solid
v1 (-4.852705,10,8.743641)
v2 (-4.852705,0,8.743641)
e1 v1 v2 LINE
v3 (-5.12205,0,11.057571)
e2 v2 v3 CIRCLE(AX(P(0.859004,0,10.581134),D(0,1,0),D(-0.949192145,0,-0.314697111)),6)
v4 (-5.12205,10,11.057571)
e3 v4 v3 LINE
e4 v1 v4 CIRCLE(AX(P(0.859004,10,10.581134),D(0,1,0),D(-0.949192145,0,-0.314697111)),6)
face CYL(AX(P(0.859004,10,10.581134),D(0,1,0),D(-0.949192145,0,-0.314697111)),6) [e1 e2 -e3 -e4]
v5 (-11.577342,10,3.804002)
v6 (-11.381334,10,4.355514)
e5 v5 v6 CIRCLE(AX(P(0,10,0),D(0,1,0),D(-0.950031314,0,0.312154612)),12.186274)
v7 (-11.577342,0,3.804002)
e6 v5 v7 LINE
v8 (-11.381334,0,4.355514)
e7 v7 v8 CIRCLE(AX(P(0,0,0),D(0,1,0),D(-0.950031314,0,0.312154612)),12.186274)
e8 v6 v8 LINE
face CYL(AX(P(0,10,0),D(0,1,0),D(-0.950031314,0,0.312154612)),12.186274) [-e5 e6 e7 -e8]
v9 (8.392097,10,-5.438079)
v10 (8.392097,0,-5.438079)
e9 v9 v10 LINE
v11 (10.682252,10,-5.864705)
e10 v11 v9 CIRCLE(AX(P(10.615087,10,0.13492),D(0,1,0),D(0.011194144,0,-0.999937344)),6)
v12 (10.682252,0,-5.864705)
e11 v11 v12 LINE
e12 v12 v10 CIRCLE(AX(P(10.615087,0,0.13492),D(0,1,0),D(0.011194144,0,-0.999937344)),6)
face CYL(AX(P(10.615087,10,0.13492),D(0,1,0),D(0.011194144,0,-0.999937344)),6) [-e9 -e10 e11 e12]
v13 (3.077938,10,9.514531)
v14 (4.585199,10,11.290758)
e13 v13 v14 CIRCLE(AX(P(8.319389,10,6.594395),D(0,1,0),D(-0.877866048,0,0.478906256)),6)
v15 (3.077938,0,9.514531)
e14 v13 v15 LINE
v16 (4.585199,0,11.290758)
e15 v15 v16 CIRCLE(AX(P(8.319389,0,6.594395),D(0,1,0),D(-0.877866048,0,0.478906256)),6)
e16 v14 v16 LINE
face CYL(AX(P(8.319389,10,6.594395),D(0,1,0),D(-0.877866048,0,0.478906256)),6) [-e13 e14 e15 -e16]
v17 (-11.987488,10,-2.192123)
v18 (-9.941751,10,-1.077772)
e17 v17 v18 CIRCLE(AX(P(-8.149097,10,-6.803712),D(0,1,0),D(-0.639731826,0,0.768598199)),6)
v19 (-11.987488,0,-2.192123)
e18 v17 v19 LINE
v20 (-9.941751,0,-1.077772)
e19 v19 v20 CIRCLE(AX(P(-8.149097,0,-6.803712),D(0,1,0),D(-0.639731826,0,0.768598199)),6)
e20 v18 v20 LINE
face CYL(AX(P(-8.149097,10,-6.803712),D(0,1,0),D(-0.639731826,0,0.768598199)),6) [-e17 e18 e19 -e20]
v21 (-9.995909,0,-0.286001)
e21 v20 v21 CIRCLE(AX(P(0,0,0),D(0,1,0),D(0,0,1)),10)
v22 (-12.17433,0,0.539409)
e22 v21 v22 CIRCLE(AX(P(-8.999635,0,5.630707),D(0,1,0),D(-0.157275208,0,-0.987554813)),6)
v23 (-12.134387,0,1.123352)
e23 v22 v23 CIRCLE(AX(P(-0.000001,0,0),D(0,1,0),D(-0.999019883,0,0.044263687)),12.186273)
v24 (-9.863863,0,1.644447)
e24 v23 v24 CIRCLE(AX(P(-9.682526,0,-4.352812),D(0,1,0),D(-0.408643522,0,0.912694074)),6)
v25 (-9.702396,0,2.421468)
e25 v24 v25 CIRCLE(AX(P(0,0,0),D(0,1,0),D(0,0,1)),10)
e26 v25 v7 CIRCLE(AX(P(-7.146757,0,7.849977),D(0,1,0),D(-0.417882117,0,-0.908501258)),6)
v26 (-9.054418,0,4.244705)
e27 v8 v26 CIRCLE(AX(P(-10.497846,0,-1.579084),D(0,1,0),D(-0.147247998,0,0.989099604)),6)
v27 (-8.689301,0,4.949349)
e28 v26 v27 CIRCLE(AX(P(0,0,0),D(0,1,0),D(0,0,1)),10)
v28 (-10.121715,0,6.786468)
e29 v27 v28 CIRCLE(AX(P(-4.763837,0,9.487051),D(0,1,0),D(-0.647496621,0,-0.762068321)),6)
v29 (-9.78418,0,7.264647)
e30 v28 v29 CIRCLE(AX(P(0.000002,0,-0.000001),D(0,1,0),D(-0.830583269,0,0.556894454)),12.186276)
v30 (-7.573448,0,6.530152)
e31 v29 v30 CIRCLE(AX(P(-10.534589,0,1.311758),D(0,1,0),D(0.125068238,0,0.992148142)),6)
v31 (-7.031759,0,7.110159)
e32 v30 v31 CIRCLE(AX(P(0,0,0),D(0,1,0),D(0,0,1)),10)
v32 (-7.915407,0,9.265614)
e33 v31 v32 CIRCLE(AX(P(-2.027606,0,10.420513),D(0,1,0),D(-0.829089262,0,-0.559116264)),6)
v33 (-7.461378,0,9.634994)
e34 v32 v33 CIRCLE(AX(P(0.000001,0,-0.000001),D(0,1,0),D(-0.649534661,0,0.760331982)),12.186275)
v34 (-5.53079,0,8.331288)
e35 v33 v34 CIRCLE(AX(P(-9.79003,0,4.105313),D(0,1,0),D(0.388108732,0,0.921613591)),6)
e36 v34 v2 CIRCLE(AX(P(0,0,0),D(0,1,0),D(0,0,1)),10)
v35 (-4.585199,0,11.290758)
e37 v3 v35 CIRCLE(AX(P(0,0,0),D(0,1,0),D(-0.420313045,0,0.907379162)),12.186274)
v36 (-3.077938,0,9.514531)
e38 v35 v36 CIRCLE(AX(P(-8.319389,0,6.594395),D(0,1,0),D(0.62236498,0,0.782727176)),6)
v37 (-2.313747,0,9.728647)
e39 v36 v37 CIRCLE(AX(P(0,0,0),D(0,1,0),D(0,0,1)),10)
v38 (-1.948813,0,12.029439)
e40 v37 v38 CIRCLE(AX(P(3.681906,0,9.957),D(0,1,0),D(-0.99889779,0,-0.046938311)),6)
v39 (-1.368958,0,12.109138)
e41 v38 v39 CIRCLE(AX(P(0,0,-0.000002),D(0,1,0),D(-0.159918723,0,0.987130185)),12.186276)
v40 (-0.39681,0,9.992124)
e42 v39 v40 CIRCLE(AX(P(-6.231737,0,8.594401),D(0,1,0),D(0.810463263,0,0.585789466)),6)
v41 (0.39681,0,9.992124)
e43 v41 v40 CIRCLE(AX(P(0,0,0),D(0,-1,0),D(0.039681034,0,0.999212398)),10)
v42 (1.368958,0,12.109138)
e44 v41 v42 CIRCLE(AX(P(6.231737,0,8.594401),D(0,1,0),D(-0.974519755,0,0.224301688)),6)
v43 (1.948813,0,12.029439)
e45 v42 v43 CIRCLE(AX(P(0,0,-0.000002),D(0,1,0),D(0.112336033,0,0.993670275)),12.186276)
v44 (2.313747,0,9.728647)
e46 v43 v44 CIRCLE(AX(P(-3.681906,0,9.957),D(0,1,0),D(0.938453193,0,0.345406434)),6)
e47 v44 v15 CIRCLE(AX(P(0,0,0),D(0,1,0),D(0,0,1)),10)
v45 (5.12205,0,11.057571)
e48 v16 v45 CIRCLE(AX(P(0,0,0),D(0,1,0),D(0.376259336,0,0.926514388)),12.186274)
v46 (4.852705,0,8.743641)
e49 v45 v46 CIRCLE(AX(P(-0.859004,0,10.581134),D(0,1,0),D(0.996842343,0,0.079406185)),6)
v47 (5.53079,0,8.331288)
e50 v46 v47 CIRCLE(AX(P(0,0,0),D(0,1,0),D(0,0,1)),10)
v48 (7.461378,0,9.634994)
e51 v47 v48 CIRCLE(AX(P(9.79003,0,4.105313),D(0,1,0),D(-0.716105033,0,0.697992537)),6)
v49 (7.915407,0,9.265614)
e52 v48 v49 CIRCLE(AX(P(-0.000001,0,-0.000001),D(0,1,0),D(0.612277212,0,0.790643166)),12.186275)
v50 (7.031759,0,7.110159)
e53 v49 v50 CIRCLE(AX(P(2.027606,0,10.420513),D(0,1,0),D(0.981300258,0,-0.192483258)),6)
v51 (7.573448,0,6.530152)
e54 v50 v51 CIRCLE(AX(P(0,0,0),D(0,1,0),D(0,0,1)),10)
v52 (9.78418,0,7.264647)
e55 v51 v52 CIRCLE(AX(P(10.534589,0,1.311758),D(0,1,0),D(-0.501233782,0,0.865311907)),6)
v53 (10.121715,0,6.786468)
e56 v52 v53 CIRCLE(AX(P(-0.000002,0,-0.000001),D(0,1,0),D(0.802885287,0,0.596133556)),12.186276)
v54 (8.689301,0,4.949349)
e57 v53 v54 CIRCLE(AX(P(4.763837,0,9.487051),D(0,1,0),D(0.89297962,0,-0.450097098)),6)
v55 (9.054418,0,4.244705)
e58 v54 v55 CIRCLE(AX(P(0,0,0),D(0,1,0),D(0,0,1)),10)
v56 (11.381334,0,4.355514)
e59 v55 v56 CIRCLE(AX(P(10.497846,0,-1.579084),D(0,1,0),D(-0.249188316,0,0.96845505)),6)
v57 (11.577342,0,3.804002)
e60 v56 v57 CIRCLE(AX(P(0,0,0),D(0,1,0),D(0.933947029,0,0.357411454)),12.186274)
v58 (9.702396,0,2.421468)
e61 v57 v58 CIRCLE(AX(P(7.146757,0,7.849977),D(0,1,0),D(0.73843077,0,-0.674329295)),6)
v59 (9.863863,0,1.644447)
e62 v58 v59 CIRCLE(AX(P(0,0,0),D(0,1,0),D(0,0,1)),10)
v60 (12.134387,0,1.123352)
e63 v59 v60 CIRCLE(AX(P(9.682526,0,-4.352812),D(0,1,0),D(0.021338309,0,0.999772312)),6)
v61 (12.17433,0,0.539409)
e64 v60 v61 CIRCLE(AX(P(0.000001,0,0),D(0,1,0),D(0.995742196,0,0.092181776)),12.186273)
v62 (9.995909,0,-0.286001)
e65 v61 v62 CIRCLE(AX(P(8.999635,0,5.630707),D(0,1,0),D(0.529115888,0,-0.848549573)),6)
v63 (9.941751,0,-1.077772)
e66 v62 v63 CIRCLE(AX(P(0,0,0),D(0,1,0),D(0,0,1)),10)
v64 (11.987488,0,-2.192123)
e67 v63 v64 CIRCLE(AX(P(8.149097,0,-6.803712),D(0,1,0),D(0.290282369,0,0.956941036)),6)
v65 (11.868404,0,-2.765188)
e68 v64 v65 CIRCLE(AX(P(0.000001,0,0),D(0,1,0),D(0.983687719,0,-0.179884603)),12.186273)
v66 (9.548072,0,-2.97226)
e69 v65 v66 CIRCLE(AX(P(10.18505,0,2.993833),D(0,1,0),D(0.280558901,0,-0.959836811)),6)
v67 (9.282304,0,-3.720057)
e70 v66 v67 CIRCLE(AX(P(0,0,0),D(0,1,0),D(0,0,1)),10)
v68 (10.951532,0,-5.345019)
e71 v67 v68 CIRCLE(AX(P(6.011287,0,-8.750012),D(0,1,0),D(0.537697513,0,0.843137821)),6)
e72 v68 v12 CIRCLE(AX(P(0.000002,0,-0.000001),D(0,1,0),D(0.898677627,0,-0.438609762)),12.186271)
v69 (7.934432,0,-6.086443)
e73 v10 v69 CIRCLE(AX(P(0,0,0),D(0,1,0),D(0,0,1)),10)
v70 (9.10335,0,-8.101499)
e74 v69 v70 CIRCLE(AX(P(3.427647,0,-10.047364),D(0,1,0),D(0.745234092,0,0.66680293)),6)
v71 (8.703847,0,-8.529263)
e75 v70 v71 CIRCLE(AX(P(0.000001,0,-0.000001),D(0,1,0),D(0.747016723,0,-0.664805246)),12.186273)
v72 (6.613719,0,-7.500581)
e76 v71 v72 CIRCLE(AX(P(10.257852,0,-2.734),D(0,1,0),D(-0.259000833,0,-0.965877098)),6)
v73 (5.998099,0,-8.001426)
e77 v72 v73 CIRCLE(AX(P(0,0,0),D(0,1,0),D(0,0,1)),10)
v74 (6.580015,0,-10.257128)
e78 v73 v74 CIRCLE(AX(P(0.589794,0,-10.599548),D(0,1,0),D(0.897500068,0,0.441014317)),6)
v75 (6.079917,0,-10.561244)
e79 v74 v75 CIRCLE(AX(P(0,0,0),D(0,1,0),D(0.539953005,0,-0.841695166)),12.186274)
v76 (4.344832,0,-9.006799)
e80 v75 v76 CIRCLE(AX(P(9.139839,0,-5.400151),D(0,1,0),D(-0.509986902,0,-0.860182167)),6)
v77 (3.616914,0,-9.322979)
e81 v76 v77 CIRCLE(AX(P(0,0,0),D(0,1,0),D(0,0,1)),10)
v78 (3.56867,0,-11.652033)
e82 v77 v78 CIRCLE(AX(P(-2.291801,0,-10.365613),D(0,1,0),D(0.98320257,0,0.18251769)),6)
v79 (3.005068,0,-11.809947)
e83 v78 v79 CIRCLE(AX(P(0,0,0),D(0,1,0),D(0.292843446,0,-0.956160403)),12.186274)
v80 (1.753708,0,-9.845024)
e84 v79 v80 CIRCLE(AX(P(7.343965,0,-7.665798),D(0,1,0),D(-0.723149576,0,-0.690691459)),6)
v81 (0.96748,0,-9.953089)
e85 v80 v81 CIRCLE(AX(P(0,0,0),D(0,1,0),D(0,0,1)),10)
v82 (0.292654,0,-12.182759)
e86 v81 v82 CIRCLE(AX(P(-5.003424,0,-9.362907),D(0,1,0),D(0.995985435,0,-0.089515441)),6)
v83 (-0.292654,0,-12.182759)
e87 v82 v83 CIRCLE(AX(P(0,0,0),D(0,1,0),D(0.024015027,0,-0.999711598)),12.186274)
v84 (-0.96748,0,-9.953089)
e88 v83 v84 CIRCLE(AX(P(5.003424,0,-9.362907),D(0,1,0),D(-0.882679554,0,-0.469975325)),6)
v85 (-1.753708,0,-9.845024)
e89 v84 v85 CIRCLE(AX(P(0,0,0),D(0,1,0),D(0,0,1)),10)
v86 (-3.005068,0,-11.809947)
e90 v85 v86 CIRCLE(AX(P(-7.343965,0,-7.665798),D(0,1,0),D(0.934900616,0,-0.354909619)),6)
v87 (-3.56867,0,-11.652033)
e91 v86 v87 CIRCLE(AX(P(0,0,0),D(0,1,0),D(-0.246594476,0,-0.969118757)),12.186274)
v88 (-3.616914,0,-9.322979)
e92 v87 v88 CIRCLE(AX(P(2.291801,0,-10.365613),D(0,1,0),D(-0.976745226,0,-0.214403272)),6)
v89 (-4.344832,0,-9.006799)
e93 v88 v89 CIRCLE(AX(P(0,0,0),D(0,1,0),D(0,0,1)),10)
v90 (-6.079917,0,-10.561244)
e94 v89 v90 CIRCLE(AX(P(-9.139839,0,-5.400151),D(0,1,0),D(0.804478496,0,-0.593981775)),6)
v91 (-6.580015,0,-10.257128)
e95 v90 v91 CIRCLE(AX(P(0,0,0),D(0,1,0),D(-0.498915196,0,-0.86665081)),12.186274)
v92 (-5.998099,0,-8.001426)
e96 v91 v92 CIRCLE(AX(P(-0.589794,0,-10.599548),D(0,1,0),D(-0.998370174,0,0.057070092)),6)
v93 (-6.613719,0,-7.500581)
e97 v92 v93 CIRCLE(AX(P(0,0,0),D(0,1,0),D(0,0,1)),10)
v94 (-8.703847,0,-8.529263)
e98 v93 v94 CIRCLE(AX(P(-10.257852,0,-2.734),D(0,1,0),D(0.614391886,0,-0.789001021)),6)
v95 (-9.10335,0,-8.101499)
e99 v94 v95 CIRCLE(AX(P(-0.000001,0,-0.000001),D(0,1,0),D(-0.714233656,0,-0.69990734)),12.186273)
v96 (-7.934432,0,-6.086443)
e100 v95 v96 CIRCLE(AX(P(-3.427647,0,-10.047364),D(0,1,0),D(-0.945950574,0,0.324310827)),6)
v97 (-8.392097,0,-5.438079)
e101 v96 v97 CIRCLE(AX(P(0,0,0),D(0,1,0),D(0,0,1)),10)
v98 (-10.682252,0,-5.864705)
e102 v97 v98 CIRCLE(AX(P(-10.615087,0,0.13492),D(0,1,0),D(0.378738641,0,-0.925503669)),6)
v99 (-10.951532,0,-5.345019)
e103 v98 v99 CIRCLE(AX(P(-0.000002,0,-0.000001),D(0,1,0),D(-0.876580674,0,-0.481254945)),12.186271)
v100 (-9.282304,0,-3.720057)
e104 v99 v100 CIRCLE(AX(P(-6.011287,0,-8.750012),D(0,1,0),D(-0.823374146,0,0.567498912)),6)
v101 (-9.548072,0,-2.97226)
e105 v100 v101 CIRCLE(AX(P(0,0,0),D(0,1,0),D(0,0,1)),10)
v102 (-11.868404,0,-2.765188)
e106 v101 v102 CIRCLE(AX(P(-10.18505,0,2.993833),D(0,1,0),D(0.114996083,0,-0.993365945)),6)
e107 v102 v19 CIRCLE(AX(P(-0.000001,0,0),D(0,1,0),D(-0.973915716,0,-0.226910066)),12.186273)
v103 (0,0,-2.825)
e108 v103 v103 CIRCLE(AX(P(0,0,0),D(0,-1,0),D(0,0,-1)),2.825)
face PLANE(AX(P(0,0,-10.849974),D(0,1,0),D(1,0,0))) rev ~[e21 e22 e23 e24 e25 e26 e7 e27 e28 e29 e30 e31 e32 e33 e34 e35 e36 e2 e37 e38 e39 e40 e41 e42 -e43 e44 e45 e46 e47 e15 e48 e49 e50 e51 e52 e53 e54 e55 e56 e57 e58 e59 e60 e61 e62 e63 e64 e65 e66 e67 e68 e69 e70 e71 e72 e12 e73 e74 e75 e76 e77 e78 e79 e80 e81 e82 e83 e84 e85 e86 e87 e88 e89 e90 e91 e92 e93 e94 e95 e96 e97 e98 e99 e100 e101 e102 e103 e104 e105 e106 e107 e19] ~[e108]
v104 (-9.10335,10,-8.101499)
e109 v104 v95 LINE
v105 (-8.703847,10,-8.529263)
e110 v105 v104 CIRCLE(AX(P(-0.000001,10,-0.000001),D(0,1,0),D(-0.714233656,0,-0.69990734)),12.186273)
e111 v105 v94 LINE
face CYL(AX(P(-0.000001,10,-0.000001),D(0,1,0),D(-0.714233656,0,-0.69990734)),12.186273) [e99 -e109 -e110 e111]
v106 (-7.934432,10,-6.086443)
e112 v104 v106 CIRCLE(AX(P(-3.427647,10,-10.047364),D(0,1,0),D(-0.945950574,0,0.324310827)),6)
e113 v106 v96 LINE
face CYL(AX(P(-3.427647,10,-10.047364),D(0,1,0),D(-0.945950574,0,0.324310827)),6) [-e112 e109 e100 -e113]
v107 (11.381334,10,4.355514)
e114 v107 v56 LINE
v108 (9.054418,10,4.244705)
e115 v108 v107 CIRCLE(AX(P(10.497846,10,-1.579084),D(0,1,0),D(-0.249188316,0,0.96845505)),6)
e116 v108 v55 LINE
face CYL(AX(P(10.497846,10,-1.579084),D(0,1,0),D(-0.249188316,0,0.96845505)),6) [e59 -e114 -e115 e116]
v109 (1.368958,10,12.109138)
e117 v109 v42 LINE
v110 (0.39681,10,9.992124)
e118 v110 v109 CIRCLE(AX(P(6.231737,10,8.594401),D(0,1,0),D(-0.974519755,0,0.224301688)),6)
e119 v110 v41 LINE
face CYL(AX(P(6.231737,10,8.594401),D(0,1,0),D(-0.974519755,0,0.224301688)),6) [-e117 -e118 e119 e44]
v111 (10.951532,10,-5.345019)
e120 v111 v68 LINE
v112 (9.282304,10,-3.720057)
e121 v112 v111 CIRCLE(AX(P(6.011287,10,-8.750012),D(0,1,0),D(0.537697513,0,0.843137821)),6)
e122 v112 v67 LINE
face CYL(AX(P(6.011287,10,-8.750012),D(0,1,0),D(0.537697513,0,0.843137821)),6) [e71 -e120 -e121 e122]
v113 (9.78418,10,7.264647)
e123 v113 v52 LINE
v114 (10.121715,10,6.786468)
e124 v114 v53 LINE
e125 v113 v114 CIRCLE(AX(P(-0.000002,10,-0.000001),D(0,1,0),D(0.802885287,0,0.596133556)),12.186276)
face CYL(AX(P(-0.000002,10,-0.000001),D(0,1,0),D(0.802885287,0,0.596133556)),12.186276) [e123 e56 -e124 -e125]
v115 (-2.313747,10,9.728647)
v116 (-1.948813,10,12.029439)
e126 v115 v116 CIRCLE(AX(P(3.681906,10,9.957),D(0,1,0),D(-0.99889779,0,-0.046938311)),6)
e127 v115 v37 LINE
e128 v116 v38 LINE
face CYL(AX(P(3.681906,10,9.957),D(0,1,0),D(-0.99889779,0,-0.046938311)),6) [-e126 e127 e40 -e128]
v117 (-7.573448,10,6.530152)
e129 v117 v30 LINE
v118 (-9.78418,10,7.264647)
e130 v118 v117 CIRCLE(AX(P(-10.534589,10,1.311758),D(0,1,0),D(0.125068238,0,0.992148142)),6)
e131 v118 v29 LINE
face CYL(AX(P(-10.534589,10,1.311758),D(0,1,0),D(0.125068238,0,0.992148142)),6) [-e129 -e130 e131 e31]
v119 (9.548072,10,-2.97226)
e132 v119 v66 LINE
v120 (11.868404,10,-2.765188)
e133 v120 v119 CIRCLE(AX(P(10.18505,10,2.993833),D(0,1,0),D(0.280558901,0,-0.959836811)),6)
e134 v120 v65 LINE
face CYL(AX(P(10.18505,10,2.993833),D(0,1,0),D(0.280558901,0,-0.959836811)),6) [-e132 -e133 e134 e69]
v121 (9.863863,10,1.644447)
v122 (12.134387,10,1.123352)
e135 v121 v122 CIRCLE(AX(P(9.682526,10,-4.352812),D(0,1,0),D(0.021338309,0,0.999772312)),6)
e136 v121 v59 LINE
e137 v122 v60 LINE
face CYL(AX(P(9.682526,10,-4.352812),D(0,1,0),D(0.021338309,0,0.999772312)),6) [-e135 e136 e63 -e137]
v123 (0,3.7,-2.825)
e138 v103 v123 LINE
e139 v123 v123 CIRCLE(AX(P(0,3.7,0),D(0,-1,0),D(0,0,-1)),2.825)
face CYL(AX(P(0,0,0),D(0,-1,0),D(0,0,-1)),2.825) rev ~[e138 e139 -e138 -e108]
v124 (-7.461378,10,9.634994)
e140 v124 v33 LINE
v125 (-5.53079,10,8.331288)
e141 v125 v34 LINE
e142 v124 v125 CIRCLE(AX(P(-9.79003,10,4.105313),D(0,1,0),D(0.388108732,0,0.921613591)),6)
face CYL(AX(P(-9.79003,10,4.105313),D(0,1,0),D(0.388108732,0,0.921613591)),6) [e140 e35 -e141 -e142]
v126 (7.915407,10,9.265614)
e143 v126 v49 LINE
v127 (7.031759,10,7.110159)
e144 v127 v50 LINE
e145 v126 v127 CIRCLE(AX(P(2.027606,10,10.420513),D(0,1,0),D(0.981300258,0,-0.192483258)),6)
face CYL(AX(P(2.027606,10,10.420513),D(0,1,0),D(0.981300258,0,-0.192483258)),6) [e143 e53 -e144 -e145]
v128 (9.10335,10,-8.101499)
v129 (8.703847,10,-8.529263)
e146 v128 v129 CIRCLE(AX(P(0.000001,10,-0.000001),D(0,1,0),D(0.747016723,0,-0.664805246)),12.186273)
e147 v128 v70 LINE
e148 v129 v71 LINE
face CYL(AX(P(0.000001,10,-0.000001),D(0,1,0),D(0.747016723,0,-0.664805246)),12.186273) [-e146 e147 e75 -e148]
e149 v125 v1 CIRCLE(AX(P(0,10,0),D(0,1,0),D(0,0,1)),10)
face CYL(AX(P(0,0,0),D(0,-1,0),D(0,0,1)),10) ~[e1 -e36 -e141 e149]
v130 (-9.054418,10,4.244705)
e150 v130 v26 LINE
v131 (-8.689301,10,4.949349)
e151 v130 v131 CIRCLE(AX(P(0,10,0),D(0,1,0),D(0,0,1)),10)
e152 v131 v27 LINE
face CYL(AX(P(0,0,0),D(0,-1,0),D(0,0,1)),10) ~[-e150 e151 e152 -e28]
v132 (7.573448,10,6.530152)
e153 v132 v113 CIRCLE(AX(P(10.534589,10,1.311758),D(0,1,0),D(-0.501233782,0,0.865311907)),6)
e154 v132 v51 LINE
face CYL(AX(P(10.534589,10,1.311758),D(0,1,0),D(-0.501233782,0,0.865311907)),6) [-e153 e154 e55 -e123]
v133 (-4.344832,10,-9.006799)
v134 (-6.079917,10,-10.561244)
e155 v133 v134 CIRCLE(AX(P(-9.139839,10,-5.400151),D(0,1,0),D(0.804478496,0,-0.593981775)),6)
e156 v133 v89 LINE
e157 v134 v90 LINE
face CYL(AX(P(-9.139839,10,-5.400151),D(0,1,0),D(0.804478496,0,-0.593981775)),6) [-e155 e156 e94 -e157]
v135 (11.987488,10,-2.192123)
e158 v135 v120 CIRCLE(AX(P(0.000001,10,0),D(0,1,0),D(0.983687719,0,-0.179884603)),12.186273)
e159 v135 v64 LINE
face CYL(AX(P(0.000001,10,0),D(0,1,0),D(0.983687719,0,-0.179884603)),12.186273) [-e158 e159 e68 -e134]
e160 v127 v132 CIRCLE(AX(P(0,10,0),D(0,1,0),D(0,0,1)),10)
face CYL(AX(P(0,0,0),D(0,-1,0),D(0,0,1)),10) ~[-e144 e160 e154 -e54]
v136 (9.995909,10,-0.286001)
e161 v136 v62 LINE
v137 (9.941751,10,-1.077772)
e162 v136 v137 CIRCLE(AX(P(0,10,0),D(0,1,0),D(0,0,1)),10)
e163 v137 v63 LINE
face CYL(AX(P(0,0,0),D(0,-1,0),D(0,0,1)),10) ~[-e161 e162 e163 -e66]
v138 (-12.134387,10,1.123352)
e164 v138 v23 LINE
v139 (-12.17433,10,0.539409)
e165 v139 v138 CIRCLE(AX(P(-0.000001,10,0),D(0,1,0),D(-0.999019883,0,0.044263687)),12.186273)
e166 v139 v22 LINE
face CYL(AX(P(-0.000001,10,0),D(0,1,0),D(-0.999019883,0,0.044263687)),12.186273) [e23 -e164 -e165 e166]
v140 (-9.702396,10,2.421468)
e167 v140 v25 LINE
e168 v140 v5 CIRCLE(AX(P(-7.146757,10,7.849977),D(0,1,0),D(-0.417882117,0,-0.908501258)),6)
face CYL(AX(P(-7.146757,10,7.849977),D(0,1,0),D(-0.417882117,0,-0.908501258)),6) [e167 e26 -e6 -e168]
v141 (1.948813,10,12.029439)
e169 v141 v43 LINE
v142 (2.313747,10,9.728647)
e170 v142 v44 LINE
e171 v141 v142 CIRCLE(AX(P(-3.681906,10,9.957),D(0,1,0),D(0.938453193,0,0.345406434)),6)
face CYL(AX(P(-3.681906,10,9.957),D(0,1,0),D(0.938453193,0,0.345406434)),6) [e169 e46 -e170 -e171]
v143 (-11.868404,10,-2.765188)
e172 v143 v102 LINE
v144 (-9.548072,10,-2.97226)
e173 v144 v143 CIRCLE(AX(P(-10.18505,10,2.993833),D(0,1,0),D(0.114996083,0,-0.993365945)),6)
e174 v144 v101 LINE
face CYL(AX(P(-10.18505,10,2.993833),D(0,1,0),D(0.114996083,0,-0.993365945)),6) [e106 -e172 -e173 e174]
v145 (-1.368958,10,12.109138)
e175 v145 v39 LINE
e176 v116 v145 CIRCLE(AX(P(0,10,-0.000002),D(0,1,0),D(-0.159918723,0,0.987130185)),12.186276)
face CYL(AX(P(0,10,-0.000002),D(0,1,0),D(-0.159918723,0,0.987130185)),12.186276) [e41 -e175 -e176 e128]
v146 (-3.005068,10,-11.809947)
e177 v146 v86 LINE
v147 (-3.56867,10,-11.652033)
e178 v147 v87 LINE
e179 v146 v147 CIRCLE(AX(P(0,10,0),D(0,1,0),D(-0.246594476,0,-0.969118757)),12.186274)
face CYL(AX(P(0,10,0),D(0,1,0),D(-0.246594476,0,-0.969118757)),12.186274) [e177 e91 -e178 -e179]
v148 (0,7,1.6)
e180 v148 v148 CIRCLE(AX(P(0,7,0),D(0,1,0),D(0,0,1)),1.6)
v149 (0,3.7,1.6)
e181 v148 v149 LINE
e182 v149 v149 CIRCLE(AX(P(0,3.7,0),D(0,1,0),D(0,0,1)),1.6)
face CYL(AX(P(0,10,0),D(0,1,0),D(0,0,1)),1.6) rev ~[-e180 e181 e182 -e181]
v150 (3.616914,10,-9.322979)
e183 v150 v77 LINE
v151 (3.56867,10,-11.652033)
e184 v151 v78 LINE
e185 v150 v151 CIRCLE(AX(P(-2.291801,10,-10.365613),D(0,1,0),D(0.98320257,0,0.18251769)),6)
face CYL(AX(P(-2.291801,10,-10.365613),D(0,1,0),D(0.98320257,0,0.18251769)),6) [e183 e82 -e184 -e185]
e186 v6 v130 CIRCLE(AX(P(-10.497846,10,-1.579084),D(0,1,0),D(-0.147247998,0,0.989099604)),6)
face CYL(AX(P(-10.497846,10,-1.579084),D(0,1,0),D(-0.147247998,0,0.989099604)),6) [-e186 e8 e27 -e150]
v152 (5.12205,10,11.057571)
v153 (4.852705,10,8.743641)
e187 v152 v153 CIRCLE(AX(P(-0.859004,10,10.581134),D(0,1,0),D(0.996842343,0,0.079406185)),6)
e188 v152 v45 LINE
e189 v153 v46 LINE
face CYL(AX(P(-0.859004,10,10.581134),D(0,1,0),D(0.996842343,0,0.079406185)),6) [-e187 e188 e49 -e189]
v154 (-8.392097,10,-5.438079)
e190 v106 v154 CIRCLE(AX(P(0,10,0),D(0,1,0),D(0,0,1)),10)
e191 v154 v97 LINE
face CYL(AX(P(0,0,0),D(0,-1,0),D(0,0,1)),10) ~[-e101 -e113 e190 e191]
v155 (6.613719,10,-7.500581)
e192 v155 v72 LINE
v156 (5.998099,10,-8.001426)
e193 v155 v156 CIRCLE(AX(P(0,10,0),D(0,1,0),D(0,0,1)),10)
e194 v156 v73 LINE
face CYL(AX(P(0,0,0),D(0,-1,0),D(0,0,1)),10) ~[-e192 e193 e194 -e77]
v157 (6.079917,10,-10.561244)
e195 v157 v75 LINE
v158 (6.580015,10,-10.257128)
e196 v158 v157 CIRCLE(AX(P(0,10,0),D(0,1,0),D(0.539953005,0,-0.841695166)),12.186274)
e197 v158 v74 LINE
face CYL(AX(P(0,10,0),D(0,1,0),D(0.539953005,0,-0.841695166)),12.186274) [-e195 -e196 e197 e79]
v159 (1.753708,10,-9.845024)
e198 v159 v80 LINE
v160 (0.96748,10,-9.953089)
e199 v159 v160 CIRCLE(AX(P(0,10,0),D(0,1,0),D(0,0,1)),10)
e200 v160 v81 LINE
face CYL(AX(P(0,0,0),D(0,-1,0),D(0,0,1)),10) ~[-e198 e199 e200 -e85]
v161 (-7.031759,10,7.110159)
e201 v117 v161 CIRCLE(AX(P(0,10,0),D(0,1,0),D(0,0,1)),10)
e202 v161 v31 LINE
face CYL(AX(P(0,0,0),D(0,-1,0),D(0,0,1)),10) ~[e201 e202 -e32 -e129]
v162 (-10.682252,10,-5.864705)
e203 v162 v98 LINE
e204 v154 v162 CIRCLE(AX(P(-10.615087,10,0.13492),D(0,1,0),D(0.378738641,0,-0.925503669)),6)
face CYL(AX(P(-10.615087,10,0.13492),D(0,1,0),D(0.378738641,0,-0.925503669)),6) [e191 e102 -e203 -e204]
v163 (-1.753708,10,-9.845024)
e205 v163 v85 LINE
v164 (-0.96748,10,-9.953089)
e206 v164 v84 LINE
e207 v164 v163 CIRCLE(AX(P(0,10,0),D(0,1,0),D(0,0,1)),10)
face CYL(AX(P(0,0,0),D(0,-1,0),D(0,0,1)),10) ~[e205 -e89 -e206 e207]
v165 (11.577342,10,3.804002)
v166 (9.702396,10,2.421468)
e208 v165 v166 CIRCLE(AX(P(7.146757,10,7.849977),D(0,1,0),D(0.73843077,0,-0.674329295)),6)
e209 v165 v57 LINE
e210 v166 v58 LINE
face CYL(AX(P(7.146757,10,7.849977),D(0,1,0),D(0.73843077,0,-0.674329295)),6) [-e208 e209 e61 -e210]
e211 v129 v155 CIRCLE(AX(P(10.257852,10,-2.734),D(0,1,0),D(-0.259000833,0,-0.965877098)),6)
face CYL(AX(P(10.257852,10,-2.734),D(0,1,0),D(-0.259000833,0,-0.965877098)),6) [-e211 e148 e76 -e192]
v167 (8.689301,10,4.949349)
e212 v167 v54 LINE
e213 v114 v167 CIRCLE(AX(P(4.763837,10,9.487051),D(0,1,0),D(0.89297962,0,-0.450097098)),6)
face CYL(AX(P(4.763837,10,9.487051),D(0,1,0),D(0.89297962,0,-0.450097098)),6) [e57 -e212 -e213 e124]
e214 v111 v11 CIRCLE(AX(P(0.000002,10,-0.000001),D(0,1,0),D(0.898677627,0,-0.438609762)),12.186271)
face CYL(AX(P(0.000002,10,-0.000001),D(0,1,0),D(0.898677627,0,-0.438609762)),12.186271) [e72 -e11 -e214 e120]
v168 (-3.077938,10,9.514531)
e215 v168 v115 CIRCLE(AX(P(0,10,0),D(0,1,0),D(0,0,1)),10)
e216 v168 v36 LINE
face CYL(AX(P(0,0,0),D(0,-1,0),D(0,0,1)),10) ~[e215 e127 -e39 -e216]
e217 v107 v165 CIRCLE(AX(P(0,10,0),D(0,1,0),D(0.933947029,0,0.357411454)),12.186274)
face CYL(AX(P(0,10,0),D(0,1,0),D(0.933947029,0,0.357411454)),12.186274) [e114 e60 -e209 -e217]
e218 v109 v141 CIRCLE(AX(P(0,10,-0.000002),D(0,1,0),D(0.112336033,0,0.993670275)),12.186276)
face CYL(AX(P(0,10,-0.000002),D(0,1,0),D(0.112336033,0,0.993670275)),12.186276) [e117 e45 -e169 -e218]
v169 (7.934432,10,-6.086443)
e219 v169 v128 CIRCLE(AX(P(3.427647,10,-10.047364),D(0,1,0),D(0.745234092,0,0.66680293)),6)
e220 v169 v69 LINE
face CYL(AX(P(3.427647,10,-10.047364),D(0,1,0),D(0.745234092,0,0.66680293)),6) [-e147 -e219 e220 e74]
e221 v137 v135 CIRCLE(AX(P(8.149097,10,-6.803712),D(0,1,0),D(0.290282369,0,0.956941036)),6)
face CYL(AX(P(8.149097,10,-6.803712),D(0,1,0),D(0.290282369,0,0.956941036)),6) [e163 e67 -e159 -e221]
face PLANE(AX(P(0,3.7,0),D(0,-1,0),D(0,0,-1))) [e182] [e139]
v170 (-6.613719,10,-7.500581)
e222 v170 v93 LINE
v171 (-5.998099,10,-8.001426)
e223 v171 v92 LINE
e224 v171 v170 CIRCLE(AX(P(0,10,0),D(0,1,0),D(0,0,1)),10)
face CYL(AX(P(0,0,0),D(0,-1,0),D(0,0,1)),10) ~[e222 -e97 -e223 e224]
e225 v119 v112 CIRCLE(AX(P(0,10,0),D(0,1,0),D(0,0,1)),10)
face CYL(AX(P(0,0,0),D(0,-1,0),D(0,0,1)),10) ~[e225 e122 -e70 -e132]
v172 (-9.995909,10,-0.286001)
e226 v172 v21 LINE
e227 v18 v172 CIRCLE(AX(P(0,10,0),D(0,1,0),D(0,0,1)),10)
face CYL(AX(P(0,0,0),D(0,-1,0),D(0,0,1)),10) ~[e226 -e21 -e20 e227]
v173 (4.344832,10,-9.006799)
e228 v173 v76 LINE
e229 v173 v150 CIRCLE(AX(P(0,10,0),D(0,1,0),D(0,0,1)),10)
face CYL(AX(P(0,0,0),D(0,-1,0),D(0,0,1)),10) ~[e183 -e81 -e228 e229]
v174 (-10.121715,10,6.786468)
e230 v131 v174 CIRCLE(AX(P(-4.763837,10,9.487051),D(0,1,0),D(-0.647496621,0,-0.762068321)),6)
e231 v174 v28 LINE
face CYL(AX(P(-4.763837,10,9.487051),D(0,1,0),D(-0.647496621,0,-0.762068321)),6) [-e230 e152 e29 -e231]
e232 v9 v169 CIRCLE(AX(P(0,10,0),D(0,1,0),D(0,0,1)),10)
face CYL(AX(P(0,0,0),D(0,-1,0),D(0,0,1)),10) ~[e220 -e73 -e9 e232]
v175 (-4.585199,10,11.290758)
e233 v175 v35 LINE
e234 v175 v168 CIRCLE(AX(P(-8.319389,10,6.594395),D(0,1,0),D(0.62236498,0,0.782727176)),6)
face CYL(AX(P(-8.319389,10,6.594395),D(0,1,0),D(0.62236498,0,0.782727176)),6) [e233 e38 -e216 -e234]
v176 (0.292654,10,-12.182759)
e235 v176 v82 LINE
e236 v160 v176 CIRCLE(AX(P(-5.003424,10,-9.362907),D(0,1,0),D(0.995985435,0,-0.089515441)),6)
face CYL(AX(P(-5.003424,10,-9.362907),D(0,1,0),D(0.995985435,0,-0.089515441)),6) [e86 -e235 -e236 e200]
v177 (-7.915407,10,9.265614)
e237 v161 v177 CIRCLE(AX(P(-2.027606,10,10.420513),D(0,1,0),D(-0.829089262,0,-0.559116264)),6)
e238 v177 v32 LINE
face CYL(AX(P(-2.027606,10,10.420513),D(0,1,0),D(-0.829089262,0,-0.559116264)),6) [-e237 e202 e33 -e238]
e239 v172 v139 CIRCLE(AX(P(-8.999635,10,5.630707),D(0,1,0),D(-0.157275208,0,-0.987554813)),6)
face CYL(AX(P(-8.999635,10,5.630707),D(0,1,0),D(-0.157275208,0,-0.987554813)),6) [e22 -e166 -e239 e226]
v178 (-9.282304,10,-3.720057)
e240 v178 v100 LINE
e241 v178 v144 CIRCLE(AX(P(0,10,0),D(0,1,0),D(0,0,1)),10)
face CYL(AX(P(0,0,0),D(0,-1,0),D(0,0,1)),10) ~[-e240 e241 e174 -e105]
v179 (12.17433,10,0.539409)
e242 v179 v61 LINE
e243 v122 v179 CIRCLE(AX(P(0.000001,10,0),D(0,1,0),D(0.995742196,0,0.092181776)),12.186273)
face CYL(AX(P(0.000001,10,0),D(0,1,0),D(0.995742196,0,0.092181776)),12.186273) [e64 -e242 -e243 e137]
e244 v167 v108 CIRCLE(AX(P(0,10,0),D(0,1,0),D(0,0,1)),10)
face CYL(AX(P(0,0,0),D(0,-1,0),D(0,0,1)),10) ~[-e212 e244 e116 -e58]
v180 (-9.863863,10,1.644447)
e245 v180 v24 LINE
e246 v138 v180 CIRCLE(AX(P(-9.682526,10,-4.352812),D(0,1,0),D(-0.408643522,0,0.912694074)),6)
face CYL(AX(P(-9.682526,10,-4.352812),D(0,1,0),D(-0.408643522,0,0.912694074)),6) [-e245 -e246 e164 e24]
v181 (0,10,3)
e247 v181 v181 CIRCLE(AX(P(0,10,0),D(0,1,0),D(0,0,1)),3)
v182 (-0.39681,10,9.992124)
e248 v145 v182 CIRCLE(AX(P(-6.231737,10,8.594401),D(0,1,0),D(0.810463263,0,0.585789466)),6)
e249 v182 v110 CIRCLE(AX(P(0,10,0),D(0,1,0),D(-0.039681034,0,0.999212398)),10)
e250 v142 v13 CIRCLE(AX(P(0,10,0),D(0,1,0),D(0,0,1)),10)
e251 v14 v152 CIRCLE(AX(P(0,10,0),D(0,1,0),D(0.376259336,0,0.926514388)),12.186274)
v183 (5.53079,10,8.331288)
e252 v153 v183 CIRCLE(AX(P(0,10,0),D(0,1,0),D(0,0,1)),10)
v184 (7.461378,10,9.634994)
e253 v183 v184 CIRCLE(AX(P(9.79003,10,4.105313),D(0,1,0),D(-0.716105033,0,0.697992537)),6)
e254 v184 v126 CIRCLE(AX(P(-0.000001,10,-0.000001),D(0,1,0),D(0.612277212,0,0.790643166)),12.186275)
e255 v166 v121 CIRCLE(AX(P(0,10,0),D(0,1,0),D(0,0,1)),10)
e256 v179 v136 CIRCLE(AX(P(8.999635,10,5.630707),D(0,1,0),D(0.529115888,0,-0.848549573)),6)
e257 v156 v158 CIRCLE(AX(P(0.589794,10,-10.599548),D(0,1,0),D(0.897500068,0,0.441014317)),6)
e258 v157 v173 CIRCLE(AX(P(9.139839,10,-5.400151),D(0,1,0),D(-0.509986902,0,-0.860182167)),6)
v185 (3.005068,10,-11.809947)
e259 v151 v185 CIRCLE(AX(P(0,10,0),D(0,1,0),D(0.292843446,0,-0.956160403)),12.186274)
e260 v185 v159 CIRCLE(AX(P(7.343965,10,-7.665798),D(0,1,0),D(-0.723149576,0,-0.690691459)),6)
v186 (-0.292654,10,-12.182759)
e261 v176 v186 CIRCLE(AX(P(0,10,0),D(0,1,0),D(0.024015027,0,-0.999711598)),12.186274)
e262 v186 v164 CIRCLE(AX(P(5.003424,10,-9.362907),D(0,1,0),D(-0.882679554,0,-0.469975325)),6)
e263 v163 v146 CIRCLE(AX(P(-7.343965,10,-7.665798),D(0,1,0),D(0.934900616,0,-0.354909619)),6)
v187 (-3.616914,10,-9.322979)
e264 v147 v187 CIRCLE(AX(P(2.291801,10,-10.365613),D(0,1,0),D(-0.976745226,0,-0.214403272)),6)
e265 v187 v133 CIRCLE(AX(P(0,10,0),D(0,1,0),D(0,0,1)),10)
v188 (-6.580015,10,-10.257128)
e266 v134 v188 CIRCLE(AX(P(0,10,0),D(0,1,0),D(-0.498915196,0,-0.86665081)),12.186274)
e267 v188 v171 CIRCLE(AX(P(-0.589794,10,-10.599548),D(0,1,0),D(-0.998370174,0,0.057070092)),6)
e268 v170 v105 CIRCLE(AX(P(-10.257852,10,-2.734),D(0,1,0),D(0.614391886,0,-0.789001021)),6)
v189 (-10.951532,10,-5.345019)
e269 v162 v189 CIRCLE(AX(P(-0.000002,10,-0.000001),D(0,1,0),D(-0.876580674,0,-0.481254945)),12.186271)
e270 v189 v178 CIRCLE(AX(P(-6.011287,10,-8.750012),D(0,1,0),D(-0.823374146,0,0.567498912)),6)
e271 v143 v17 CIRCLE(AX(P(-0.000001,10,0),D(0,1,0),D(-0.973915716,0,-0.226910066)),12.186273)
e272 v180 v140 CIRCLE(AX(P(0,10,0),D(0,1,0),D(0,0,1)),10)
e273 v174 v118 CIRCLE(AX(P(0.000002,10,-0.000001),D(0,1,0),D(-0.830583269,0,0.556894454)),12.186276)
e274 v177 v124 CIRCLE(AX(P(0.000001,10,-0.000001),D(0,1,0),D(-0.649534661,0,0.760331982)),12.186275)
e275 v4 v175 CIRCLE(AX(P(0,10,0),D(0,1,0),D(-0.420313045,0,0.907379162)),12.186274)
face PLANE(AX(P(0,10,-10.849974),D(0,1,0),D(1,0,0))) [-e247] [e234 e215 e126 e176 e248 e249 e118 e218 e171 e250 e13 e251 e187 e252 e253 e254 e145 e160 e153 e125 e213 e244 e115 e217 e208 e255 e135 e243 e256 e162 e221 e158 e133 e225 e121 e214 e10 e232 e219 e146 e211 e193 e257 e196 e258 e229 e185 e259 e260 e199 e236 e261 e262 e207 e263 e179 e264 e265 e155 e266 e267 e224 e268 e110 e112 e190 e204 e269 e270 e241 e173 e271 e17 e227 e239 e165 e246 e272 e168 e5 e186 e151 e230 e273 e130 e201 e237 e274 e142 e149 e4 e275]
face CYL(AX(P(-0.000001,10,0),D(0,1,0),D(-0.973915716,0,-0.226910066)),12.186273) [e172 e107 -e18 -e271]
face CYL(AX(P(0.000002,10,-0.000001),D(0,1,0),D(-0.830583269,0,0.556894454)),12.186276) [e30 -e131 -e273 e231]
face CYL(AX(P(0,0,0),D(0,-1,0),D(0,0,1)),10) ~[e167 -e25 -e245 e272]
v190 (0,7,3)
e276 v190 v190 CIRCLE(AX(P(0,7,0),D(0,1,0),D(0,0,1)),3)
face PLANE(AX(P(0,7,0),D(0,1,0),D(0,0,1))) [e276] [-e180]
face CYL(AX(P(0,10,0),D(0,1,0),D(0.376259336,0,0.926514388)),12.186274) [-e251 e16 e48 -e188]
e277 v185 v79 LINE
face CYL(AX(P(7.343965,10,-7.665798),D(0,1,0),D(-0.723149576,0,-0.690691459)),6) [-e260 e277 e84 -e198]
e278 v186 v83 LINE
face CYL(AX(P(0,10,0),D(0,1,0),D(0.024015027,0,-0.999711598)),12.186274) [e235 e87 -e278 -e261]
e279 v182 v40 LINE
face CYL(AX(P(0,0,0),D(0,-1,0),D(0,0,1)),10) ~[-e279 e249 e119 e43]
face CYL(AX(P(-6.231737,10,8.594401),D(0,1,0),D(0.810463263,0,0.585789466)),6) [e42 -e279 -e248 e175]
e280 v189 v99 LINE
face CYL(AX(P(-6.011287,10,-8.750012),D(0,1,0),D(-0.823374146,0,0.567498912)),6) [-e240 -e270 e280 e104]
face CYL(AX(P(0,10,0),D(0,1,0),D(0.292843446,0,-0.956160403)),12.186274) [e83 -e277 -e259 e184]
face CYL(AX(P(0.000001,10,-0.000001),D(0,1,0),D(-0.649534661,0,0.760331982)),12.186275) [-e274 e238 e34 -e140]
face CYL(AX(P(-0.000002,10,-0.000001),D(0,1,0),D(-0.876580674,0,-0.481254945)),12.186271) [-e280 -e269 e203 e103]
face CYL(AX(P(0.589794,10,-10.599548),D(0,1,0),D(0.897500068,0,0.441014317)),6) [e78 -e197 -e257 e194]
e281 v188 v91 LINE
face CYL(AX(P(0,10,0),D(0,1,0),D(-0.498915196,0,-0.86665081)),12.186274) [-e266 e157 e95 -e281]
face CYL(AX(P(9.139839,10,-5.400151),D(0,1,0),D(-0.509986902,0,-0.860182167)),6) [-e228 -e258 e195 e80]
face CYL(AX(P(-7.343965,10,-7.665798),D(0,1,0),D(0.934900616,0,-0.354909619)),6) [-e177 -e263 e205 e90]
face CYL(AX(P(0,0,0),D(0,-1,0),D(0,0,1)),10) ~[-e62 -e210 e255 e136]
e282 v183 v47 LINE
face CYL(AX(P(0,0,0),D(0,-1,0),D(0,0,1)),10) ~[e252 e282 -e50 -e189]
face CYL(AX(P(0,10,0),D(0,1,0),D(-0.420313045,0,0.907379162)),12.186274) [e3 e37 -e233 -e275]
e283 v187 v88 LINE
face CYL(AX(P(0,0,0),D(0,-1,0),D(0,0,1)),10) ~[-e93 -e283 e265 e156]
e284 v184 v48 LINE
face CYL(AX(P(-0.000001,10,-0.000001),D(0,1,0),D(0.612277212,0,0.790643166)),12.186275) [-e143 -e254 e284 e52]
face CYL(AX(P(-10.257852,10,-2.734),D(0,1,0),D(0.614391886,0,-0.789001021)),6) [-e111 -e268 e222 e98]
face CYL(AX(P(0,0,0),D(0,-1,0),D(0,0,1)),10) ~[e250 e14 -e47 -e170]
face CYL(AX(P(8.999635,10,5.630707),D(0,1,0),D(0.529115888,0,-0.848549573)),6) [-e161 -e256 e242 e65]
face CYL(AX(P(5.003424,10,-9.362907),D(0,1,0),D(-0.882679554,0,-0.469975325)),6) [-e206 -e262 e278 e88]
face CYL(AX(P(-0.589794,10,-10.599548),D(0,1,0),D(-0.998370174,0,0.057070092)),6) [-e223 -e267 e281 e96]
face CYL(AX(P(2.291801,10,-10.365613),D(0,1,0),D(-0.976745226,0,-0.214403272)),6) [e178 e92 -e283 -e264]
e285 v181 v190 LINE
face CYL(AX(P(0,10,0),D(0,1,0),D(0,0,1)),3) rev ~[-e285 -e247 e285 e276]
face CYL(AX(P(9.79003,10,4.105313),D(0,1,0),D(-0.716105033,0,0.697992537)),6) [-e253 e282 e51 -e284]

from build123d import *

# Parameters (mm, degrees)
SKETCH1_R           = 10
BOSS_EXTRUDE1_DEPTH = 10
BOSS_EXTRUDE2_DEPTH = 10
SKETCH4_R           = 2.825
CUT_EXTRUDE1_DEPTH  = 3.7
SKETCH5_R           = 1.6
CUT_EXTRUDE2_DEPTH  = 20.917820636
SKETCH7_R           = 3
CUT_EXTRUDE3_DEPTH  = 3


with BuildPart() as part:
    # Sketch1 → Boss-Extrude1 (new body)
    with BuildSketch(Plane(origin=(0, 0, 0), x_dir=(1, 0, 0), z_dir=(0, 1, 0))):
        with Locations(Location((0, 0, 0), (0, 0, 270))):
            Circle(SKETCH1_R)
    extrude(amount=BOSS_EXTRUDE1_DEPTH)

    # Sketch3 → Boss-Extrude2 (add)
    with BuildSketch(Plane(origin=(0, 10, 0), x_dir=(1, 0, 0), z_dir=(0, 1, 0))):
        with BuildLine():
            ThreePointArc((-0.292653692, 12.182759316), (-0.746983902, 11.075453202), (-0.972488982, 9.9))
            ThreePointArc((-0.972488982, 9.9), (0, 9.947649713), (0.972488982, 9.9))
            ThreePointArc((0.972488982, 9.9), (0.746983902, 11.075453202), (0.292653692, 12.182759316))
            ThreePointArc((0.292653692, 12.182759316), (0, 12.186273866), (-0.292653692, 12.182759316))
        make_face()
        with BuildLine():
            ThreePointArc((3.005067828, 11.809946574), (2.2688378, 10.866279198), (1.734561582, 9.795255532))
            ThreePointArc((1.734561582, 9.795255532), (2.683843773, 9.578763877), (3.607414487, 9.270506757))
            ThreePointArc((3.607414487, 9.270506757), (3.707405226, 10.463211508), (3.568670426, 11.652032532))
            ThreePointArc((3.568670426, 11.652032532), (3.287817341, 11.734373774), (3.005067828, 11.809946574))
        make_face()
        with BuildLine():
            ThreePointArc((6.079917215, 10.561244121), (5.116390182, 9.851202976), (4.312967649, 8.964041772))
            ThreePointArc((4.312967649, 8.964041772), (5.168639132, 8.499464945), (5.974794562, 7.953462438))
            ThreePointArc((5.974794562, 7.953462438), (6.392865264, 9.074961283), (6.580015201, 10.257127799))
            ThreePointArc((6.580015201, 10.257127799), (6.331792311, 10.41218886), (6.079917215, 10.561244121))
        make_face()
        with BuildLine():
            ThreePointArc((8.703846955, 8.529262507), (7.58448331, 8.105508096), (6.571500635, 7.468006041))
            ThreePointArc((6.571500635, 7.468006041), (7.270100171, 6.789799579), (7.899051458, 6.046546195))
            ThreePointArc((7.899051458, 6.046546195), (8.604195731, 7.013662695), (9.103350349, 8.101498821))
            ThreePointArc((9.103350349, 8.101498821), (8.906167212, 8.317779531), (8.703846955, 8.529262507))
        make_face()
        with BuildLine():
            ThreePointArc((10.682252184, 5.864704511), (9.490070008, 5.758664761), (8.342655482, 5.418102466))
            ThreePointArc((8.342655482, 5.418102466), (8.832371138, 4.576565841), (9.237471842, 3.691185281))
            ThreePointArc((9.237471842, 3.691185281), (10.177392362, 4.43219283), (10.951531647, 5.345018737))
            ThreePointArc((10.951531647, 5.345018737), (10.820012433, 5.606478546), (10.682252184, 5.864704511))
        make_face()
        with BuildLine():
            ThreePointArc((11.868403637, 2.765188211), (10.691821627, 2.984727604), (9.495073737, 2.966363017))
            ThreePointArc((9.495073737, 2.966363017), (9.739585544, 2.02390915), (9.890791199, 1.062066042))
            ThreePointArc((9.890791199, 1.062066042), (10.99577836, 1.522007499), (11.987487943, 2.192123066))
            ThreePointArc((11.987487943, 2.192123066), (11.93138683, 2.479370695), (11.868403637, 2.765188211))
        make_face()
        with BuildLine():
            ThreePointArc((12.174329886, -0.539409449), (11.100609748, -0.010573145), (9.94328581, 0.294621993))
            ThreePointArc((9.94328581, 0.294621993), (9.924459446, -0.678851624), (9.81055582, -1.645821778))
            ThreePointArc((9.81055582, -1.645821778), (10.99865778, -1.501058166), (12.134387098, -1.123352345))
            ThreePointArc((12.134387098, -1.123352345), (12.157864849, -0.831620739), (12.174329886, -0.539409449))
        make_face()
        with BuildLine():
            ThreePointArc((11.577341782, -3.804001578), (10.686116426, -3.005089732), (9.654049862, -2.398969796))
            ThreePointArc((9.654049862, -2.398969796), (9.373281592, -3.331265078), (9.002716396, -4.231646525))
            ThreePointArc((9.002716396, -4.231646525), (10.185817067, -4.412797214), (11.381334272, -4.355513852))
            ThreePointArc((11.381334272, -4.355513852), (11.48264965, -4.080934666), (11.577341782, -3.804001578))
        make_face()
        with BuildLine():
            ThreePointArc((10.1217152, -6.786468311), (9.479082735, -5.776732561), (8.6488172, -4.914640969))
            ThreePointArc((8.6488172, -4.914640969), (8.126930322, -5.736613841), (7.527186681, -6.503629408))
            ThreePointArc((7.527186681, -6.503629408), (8.6175409, -6.997259279), (9.78417995, -7.264646822))
            ThreePointArc((9.78417995, -7.264646822), (9.955818856, -7.027584338), (10.1217152, -6.786468311))
        make_face()
        with BuildLine():
            ThreePointArc((7.915407306, -9.265613737), (7.569028841, -8.119941563), (7.002141332, -7.065815706))
            ThreePointArc((7.002141332, -7.065815706), (6.277841808, -7.716504199), (5.493399966, -8.29326785))
            ThreePointArc((5.493399966, -8.29326785), (6.410141146, -9.062766634), (7.46137776, -9.63499417))
            ThreePointArc((7.46137776, -9.63499417), (7.690610523, -9.453030229), (7.915407306, -9.265613737))
        make_face()
        with BuildLine():
            ThreePointArc((5.122049862, -11.057570978), (5.097614704, -9.860931645), (4.836148674, -8.692951215))
            ThreePointArc((4.836148674, -8.692951215), (3.963154487, -9.124096741), (3.052192905, -9.467832555))
            ThreePointArc((3.052192905, -9.467832555), (3.727330549, -10.456130047), (4.585199315, -11.290758078))
            ThreePointArc((4.585199315, -11.290758078), (4.855024789, -11.177388113), (5.122049862, -11.057570978))
        make_face()
        with BuildLine():
            ThreePointArc((1.948813412, -12.029438766), (2.248133804, -10.870581538), (2.311480993, -9.6753703))
            ThreePointArc((2.311480993, -9.6753703), (1.354538128, -9.854996767), (0.384618659, -9.940211432))
            ThreePointArc((0.384618659, -9.940211432), (0.768080896, -11.074010128), (1.368957613, -12.109138111))
            ThreePointArc((1.368957613, -12.109138111), (1.659364077, -12.072770253), (1.948813412, -12.029438766))
        make_face()
        with BuildLine():
            ThreePointArc((-1.368957613, -12.109138111), (-0.768080896, -11.074010128), (-0.384618659, -9.940211432))
            ThreePointArc((-0.384618659, -9.940211432), (-1.354538128, -9.854996767), (-2.311480993, -9.6753703))
            ThreePointArc((-2.311480993, -9.6753703), (-2.248133804, -10.870581538), (-1.948813412, -12.029438766))
            ThreePointArc((-1.948813412, -12.029438766), (-1.659364077, -12.072770253), (-1.368957613, -12.109138111))
        make_face()
        with BuildLine():
            ThreePointArc((-4.585199315, -11.290758078), (-3.727330549, -10.456130047), (-3.052192905, -9.467832555))
            ThreePointArc((-3.052192905, -9.467832555), (-3.963154487, -9.124096741), (-4.836148674, -8.692951215))
            ThreePointArc((-4.836148674, -8.692951215), (-5.097614704, -9.860931645), (-5.122049862, -11.057570978))
            ThreePointArc((-5.122049862, -11.057570978), (-4.855024789, -11.177388113), (-4.585199315, -11.290758078))
        make_face()
        with BuildLine():
            ThreePointArc((-7.46137776, -9.63499417), (-6.410141146, -9.062766634), (-5.493399966, -8.29326785))
            ThreePointArc((-5.493399966, -8.29326785), (-6.277841808, -7.716504199), (-7.002141332, -7.065815706))
            ThreePointArc((-7.002141332, -7.065815706), (-7.569028841, -8.119941563), (-7.915407306, -9.265613737))
            ThreePointArc((-7.915407306, -9.265613737), (-7.690610523, -9.453030229), (-7.46137776, -9.63499417))
        make_face()
        with BuildLine():
            ThreePointArc((-9.78417995, -7.264646822), (-8.6175409, -6.997259279), (-7.527186681, -6.503629408))
            ThreePointArc((-7.527186681, -6.503629408), (-8.126930322, -5.736613841), (-8.6488172, -4.914640969))
            ThreePointArc((-8.6488172, -4.914640969), (-9.479082735, -5.776732561), (-10.1217152, -6.786468311))
            ThreePointArc((-10.1217152, -6.786468311), (-9.955818856, -7.027584338), (-9.78417995, -7.264646822))
        make_face()
        with BuildLine():
            ThreePointArc((-11.381334272, -4.355513852), (-10.185817067, -4.412797214), (-9.002716396, -4.231646525))
            ThreePointArc((-9.002716396, -4.231646525), (-9.373281592, -3.331265078), (-9.654049862, -2.398969796))
            ThreePointArc((-9.654049862, -2.398969796), (-10.686116426, -3.005089732), (-11.577341782, -3.804001578))
            ThreePointArc((-11.577341782, -3.804001578), (-11.48264965, -4.080934666), (-11.381334272, -4.355513852))
        make_face()
        with BuildLine():
            ThreePointArc((-12.134387098, -1.123352345), (-10.99865778, -1.501058166), (-9.81055582, -1.645821778))
            ThreePointArc((-9.81055582, -1.645821778), (-9.924459446, -0.678851624), (-9.94328581, 0.294621993))
            ThreePointArc((-9.94328581, 0.294621993), (-11.100609748, -0.010573145), (-12.174329886, -0.539409449))
            ThreePointArc((-12.174329886, -0.539409449), (-12.157864849, -0.831620739), (-12.134387098, -1.123352345))
        make_face()
        with BuildLine():
            ThreePointArc((-11.987487943, 2.192123066), (-10.99577836, 1.522007499), (-9.890791199, 1.062066042))
            ThreePointArc((-9.890791199, 1.062066042), (-9.739585544, 2.02390915), (-9.495073737, 2.966363017))
            ThreePointArc((-9.495073737, 2.966363017), (-10.691821627, 2.984727604), (-11.868403637, 2.765188211))
            ThreePointArc((-11.868403637, 2.765188211), (-11.93138683, 2.479370695), (-11.987487943, 2.192123066))
        make_face()
        with BuildLine():
            ThreePointArc((-10.951531647, 5.345018737), (-10.177392362, 4.43219283), (-9.237471842, 3.691185281))
            ThreePointArc((-9.237471842, 3.691185281), (-8.832371138, 4.576565841), (-8.342655482, 5.418102466))
            ThreePointArc((-8.342655482, 5.418102466), (-9.490070008, 5.758664761), (-10.682252184, 5.864704511))
            ThreePointArc((-10.682252184, 5.864704511), (-10.820012433, 5.606478546), (-10.951531647, 5.345018737))
        make_face()
        with BuildLine():
            ThreePointArc((-9.103350349, 8.101498821), (-8.604195731, 7.013662695), (-7.899051458, 6.046546195))
            ThreePointArc((-7.899051458, 6.046546195), (-7.270100171, 6.789799579), (-6.571500635, 7.468006041))
            ThreePointArc((-6.571500635, 7.468006041), (-7.58448331, 8.105508096), (-8.703846955, 8.529262507))
            ThreePointArc((-8.703846955, 8.529262507), (-8.906167212, 8.317779531), (-9.103350349, 8.101498821))
        make_face()
        with BuildLine():
            ThreePointArc((-6.580015201, 10.257127799), (-6.392865264, 9.074961283), (-5.974794562, 7.953462438))
            ThreePointArc((-5.974794562, 7.953462438), (-5.168639132, 8.499464945), (-4.312967649, 8.964041772))
            ThreePointArc((-4.312967649, 8.964041772), (-5.116390182, 9.851202976), (-6.079917215, 10.561244121))
            ThreePointArc((-6.079917215, 10.561244121), (-6.331792311, 10.41218886), (-6.580015201, 10.257127799))
        make_face()
        with BuildLine():
            ThreePointArc((-3.568670426, 11.652032532), (-3.707405226, 10.463211508), (-3.607414487, 9.270506757))
            ThreePointArc((-3.607414487, 9.270506757), (-2.683843773, 9.578763877), (-1.734561582, 9.795255532))
            ThreePointArc((-1.734561582, 9.795255532), (-2.2688378, 10.866279198), (-3.005067828, 11.809946574))
            ThreePointArc((-3.005067828, 11.809946574), (-3.287817341, 11.734373774), (-3.568670426, 11.652032532))
        make_face()
    extrude(amount=-BOSS_EXTRUDE2_DEPTH)

    # Sketch4 → Cut-Extrude1 (cut)
    with BuildSketch(Plane.XZ):
        with Locations(Location((0, 0, 0), (0, 0, 270))):
            Circle(SKETCH4_R)
    extrude(amount=-CUT_EXTRUDE1_DEPTH, mode=Mode.SUBTRACT)

    # Sketch5 → Cut-Extrude2 (cut, through all)
    with BuildSketch(Plane(origin=(0, 10, 0), x_dir=(1, 0, 0), z_dir=(0, 1, 0))):
        with Locations(Location((0, 0, 0), (0, 0, 270))):
            Circle(SKETCH5_R)
    extrude(amount=-CUT_EXTRUDE2_DEPTH, mode=Mode.SUBTRACT)

    # Sketch7 → Cut-Extrude3 (cut)
    with BuildSketch(Plane(origin=(0, 10, 0), x_dir=(1, 0, 0), z_dir=(0, 1, 0))):
        with Locations(Location((0, 0, 0), (0, 0, 270))):
            Circle(SKETCH7_R)
    extrude(amount=-CUT_EXTRUDE3_DEPTH, mode=Mode.SUBTRACT)


solid = part.part
